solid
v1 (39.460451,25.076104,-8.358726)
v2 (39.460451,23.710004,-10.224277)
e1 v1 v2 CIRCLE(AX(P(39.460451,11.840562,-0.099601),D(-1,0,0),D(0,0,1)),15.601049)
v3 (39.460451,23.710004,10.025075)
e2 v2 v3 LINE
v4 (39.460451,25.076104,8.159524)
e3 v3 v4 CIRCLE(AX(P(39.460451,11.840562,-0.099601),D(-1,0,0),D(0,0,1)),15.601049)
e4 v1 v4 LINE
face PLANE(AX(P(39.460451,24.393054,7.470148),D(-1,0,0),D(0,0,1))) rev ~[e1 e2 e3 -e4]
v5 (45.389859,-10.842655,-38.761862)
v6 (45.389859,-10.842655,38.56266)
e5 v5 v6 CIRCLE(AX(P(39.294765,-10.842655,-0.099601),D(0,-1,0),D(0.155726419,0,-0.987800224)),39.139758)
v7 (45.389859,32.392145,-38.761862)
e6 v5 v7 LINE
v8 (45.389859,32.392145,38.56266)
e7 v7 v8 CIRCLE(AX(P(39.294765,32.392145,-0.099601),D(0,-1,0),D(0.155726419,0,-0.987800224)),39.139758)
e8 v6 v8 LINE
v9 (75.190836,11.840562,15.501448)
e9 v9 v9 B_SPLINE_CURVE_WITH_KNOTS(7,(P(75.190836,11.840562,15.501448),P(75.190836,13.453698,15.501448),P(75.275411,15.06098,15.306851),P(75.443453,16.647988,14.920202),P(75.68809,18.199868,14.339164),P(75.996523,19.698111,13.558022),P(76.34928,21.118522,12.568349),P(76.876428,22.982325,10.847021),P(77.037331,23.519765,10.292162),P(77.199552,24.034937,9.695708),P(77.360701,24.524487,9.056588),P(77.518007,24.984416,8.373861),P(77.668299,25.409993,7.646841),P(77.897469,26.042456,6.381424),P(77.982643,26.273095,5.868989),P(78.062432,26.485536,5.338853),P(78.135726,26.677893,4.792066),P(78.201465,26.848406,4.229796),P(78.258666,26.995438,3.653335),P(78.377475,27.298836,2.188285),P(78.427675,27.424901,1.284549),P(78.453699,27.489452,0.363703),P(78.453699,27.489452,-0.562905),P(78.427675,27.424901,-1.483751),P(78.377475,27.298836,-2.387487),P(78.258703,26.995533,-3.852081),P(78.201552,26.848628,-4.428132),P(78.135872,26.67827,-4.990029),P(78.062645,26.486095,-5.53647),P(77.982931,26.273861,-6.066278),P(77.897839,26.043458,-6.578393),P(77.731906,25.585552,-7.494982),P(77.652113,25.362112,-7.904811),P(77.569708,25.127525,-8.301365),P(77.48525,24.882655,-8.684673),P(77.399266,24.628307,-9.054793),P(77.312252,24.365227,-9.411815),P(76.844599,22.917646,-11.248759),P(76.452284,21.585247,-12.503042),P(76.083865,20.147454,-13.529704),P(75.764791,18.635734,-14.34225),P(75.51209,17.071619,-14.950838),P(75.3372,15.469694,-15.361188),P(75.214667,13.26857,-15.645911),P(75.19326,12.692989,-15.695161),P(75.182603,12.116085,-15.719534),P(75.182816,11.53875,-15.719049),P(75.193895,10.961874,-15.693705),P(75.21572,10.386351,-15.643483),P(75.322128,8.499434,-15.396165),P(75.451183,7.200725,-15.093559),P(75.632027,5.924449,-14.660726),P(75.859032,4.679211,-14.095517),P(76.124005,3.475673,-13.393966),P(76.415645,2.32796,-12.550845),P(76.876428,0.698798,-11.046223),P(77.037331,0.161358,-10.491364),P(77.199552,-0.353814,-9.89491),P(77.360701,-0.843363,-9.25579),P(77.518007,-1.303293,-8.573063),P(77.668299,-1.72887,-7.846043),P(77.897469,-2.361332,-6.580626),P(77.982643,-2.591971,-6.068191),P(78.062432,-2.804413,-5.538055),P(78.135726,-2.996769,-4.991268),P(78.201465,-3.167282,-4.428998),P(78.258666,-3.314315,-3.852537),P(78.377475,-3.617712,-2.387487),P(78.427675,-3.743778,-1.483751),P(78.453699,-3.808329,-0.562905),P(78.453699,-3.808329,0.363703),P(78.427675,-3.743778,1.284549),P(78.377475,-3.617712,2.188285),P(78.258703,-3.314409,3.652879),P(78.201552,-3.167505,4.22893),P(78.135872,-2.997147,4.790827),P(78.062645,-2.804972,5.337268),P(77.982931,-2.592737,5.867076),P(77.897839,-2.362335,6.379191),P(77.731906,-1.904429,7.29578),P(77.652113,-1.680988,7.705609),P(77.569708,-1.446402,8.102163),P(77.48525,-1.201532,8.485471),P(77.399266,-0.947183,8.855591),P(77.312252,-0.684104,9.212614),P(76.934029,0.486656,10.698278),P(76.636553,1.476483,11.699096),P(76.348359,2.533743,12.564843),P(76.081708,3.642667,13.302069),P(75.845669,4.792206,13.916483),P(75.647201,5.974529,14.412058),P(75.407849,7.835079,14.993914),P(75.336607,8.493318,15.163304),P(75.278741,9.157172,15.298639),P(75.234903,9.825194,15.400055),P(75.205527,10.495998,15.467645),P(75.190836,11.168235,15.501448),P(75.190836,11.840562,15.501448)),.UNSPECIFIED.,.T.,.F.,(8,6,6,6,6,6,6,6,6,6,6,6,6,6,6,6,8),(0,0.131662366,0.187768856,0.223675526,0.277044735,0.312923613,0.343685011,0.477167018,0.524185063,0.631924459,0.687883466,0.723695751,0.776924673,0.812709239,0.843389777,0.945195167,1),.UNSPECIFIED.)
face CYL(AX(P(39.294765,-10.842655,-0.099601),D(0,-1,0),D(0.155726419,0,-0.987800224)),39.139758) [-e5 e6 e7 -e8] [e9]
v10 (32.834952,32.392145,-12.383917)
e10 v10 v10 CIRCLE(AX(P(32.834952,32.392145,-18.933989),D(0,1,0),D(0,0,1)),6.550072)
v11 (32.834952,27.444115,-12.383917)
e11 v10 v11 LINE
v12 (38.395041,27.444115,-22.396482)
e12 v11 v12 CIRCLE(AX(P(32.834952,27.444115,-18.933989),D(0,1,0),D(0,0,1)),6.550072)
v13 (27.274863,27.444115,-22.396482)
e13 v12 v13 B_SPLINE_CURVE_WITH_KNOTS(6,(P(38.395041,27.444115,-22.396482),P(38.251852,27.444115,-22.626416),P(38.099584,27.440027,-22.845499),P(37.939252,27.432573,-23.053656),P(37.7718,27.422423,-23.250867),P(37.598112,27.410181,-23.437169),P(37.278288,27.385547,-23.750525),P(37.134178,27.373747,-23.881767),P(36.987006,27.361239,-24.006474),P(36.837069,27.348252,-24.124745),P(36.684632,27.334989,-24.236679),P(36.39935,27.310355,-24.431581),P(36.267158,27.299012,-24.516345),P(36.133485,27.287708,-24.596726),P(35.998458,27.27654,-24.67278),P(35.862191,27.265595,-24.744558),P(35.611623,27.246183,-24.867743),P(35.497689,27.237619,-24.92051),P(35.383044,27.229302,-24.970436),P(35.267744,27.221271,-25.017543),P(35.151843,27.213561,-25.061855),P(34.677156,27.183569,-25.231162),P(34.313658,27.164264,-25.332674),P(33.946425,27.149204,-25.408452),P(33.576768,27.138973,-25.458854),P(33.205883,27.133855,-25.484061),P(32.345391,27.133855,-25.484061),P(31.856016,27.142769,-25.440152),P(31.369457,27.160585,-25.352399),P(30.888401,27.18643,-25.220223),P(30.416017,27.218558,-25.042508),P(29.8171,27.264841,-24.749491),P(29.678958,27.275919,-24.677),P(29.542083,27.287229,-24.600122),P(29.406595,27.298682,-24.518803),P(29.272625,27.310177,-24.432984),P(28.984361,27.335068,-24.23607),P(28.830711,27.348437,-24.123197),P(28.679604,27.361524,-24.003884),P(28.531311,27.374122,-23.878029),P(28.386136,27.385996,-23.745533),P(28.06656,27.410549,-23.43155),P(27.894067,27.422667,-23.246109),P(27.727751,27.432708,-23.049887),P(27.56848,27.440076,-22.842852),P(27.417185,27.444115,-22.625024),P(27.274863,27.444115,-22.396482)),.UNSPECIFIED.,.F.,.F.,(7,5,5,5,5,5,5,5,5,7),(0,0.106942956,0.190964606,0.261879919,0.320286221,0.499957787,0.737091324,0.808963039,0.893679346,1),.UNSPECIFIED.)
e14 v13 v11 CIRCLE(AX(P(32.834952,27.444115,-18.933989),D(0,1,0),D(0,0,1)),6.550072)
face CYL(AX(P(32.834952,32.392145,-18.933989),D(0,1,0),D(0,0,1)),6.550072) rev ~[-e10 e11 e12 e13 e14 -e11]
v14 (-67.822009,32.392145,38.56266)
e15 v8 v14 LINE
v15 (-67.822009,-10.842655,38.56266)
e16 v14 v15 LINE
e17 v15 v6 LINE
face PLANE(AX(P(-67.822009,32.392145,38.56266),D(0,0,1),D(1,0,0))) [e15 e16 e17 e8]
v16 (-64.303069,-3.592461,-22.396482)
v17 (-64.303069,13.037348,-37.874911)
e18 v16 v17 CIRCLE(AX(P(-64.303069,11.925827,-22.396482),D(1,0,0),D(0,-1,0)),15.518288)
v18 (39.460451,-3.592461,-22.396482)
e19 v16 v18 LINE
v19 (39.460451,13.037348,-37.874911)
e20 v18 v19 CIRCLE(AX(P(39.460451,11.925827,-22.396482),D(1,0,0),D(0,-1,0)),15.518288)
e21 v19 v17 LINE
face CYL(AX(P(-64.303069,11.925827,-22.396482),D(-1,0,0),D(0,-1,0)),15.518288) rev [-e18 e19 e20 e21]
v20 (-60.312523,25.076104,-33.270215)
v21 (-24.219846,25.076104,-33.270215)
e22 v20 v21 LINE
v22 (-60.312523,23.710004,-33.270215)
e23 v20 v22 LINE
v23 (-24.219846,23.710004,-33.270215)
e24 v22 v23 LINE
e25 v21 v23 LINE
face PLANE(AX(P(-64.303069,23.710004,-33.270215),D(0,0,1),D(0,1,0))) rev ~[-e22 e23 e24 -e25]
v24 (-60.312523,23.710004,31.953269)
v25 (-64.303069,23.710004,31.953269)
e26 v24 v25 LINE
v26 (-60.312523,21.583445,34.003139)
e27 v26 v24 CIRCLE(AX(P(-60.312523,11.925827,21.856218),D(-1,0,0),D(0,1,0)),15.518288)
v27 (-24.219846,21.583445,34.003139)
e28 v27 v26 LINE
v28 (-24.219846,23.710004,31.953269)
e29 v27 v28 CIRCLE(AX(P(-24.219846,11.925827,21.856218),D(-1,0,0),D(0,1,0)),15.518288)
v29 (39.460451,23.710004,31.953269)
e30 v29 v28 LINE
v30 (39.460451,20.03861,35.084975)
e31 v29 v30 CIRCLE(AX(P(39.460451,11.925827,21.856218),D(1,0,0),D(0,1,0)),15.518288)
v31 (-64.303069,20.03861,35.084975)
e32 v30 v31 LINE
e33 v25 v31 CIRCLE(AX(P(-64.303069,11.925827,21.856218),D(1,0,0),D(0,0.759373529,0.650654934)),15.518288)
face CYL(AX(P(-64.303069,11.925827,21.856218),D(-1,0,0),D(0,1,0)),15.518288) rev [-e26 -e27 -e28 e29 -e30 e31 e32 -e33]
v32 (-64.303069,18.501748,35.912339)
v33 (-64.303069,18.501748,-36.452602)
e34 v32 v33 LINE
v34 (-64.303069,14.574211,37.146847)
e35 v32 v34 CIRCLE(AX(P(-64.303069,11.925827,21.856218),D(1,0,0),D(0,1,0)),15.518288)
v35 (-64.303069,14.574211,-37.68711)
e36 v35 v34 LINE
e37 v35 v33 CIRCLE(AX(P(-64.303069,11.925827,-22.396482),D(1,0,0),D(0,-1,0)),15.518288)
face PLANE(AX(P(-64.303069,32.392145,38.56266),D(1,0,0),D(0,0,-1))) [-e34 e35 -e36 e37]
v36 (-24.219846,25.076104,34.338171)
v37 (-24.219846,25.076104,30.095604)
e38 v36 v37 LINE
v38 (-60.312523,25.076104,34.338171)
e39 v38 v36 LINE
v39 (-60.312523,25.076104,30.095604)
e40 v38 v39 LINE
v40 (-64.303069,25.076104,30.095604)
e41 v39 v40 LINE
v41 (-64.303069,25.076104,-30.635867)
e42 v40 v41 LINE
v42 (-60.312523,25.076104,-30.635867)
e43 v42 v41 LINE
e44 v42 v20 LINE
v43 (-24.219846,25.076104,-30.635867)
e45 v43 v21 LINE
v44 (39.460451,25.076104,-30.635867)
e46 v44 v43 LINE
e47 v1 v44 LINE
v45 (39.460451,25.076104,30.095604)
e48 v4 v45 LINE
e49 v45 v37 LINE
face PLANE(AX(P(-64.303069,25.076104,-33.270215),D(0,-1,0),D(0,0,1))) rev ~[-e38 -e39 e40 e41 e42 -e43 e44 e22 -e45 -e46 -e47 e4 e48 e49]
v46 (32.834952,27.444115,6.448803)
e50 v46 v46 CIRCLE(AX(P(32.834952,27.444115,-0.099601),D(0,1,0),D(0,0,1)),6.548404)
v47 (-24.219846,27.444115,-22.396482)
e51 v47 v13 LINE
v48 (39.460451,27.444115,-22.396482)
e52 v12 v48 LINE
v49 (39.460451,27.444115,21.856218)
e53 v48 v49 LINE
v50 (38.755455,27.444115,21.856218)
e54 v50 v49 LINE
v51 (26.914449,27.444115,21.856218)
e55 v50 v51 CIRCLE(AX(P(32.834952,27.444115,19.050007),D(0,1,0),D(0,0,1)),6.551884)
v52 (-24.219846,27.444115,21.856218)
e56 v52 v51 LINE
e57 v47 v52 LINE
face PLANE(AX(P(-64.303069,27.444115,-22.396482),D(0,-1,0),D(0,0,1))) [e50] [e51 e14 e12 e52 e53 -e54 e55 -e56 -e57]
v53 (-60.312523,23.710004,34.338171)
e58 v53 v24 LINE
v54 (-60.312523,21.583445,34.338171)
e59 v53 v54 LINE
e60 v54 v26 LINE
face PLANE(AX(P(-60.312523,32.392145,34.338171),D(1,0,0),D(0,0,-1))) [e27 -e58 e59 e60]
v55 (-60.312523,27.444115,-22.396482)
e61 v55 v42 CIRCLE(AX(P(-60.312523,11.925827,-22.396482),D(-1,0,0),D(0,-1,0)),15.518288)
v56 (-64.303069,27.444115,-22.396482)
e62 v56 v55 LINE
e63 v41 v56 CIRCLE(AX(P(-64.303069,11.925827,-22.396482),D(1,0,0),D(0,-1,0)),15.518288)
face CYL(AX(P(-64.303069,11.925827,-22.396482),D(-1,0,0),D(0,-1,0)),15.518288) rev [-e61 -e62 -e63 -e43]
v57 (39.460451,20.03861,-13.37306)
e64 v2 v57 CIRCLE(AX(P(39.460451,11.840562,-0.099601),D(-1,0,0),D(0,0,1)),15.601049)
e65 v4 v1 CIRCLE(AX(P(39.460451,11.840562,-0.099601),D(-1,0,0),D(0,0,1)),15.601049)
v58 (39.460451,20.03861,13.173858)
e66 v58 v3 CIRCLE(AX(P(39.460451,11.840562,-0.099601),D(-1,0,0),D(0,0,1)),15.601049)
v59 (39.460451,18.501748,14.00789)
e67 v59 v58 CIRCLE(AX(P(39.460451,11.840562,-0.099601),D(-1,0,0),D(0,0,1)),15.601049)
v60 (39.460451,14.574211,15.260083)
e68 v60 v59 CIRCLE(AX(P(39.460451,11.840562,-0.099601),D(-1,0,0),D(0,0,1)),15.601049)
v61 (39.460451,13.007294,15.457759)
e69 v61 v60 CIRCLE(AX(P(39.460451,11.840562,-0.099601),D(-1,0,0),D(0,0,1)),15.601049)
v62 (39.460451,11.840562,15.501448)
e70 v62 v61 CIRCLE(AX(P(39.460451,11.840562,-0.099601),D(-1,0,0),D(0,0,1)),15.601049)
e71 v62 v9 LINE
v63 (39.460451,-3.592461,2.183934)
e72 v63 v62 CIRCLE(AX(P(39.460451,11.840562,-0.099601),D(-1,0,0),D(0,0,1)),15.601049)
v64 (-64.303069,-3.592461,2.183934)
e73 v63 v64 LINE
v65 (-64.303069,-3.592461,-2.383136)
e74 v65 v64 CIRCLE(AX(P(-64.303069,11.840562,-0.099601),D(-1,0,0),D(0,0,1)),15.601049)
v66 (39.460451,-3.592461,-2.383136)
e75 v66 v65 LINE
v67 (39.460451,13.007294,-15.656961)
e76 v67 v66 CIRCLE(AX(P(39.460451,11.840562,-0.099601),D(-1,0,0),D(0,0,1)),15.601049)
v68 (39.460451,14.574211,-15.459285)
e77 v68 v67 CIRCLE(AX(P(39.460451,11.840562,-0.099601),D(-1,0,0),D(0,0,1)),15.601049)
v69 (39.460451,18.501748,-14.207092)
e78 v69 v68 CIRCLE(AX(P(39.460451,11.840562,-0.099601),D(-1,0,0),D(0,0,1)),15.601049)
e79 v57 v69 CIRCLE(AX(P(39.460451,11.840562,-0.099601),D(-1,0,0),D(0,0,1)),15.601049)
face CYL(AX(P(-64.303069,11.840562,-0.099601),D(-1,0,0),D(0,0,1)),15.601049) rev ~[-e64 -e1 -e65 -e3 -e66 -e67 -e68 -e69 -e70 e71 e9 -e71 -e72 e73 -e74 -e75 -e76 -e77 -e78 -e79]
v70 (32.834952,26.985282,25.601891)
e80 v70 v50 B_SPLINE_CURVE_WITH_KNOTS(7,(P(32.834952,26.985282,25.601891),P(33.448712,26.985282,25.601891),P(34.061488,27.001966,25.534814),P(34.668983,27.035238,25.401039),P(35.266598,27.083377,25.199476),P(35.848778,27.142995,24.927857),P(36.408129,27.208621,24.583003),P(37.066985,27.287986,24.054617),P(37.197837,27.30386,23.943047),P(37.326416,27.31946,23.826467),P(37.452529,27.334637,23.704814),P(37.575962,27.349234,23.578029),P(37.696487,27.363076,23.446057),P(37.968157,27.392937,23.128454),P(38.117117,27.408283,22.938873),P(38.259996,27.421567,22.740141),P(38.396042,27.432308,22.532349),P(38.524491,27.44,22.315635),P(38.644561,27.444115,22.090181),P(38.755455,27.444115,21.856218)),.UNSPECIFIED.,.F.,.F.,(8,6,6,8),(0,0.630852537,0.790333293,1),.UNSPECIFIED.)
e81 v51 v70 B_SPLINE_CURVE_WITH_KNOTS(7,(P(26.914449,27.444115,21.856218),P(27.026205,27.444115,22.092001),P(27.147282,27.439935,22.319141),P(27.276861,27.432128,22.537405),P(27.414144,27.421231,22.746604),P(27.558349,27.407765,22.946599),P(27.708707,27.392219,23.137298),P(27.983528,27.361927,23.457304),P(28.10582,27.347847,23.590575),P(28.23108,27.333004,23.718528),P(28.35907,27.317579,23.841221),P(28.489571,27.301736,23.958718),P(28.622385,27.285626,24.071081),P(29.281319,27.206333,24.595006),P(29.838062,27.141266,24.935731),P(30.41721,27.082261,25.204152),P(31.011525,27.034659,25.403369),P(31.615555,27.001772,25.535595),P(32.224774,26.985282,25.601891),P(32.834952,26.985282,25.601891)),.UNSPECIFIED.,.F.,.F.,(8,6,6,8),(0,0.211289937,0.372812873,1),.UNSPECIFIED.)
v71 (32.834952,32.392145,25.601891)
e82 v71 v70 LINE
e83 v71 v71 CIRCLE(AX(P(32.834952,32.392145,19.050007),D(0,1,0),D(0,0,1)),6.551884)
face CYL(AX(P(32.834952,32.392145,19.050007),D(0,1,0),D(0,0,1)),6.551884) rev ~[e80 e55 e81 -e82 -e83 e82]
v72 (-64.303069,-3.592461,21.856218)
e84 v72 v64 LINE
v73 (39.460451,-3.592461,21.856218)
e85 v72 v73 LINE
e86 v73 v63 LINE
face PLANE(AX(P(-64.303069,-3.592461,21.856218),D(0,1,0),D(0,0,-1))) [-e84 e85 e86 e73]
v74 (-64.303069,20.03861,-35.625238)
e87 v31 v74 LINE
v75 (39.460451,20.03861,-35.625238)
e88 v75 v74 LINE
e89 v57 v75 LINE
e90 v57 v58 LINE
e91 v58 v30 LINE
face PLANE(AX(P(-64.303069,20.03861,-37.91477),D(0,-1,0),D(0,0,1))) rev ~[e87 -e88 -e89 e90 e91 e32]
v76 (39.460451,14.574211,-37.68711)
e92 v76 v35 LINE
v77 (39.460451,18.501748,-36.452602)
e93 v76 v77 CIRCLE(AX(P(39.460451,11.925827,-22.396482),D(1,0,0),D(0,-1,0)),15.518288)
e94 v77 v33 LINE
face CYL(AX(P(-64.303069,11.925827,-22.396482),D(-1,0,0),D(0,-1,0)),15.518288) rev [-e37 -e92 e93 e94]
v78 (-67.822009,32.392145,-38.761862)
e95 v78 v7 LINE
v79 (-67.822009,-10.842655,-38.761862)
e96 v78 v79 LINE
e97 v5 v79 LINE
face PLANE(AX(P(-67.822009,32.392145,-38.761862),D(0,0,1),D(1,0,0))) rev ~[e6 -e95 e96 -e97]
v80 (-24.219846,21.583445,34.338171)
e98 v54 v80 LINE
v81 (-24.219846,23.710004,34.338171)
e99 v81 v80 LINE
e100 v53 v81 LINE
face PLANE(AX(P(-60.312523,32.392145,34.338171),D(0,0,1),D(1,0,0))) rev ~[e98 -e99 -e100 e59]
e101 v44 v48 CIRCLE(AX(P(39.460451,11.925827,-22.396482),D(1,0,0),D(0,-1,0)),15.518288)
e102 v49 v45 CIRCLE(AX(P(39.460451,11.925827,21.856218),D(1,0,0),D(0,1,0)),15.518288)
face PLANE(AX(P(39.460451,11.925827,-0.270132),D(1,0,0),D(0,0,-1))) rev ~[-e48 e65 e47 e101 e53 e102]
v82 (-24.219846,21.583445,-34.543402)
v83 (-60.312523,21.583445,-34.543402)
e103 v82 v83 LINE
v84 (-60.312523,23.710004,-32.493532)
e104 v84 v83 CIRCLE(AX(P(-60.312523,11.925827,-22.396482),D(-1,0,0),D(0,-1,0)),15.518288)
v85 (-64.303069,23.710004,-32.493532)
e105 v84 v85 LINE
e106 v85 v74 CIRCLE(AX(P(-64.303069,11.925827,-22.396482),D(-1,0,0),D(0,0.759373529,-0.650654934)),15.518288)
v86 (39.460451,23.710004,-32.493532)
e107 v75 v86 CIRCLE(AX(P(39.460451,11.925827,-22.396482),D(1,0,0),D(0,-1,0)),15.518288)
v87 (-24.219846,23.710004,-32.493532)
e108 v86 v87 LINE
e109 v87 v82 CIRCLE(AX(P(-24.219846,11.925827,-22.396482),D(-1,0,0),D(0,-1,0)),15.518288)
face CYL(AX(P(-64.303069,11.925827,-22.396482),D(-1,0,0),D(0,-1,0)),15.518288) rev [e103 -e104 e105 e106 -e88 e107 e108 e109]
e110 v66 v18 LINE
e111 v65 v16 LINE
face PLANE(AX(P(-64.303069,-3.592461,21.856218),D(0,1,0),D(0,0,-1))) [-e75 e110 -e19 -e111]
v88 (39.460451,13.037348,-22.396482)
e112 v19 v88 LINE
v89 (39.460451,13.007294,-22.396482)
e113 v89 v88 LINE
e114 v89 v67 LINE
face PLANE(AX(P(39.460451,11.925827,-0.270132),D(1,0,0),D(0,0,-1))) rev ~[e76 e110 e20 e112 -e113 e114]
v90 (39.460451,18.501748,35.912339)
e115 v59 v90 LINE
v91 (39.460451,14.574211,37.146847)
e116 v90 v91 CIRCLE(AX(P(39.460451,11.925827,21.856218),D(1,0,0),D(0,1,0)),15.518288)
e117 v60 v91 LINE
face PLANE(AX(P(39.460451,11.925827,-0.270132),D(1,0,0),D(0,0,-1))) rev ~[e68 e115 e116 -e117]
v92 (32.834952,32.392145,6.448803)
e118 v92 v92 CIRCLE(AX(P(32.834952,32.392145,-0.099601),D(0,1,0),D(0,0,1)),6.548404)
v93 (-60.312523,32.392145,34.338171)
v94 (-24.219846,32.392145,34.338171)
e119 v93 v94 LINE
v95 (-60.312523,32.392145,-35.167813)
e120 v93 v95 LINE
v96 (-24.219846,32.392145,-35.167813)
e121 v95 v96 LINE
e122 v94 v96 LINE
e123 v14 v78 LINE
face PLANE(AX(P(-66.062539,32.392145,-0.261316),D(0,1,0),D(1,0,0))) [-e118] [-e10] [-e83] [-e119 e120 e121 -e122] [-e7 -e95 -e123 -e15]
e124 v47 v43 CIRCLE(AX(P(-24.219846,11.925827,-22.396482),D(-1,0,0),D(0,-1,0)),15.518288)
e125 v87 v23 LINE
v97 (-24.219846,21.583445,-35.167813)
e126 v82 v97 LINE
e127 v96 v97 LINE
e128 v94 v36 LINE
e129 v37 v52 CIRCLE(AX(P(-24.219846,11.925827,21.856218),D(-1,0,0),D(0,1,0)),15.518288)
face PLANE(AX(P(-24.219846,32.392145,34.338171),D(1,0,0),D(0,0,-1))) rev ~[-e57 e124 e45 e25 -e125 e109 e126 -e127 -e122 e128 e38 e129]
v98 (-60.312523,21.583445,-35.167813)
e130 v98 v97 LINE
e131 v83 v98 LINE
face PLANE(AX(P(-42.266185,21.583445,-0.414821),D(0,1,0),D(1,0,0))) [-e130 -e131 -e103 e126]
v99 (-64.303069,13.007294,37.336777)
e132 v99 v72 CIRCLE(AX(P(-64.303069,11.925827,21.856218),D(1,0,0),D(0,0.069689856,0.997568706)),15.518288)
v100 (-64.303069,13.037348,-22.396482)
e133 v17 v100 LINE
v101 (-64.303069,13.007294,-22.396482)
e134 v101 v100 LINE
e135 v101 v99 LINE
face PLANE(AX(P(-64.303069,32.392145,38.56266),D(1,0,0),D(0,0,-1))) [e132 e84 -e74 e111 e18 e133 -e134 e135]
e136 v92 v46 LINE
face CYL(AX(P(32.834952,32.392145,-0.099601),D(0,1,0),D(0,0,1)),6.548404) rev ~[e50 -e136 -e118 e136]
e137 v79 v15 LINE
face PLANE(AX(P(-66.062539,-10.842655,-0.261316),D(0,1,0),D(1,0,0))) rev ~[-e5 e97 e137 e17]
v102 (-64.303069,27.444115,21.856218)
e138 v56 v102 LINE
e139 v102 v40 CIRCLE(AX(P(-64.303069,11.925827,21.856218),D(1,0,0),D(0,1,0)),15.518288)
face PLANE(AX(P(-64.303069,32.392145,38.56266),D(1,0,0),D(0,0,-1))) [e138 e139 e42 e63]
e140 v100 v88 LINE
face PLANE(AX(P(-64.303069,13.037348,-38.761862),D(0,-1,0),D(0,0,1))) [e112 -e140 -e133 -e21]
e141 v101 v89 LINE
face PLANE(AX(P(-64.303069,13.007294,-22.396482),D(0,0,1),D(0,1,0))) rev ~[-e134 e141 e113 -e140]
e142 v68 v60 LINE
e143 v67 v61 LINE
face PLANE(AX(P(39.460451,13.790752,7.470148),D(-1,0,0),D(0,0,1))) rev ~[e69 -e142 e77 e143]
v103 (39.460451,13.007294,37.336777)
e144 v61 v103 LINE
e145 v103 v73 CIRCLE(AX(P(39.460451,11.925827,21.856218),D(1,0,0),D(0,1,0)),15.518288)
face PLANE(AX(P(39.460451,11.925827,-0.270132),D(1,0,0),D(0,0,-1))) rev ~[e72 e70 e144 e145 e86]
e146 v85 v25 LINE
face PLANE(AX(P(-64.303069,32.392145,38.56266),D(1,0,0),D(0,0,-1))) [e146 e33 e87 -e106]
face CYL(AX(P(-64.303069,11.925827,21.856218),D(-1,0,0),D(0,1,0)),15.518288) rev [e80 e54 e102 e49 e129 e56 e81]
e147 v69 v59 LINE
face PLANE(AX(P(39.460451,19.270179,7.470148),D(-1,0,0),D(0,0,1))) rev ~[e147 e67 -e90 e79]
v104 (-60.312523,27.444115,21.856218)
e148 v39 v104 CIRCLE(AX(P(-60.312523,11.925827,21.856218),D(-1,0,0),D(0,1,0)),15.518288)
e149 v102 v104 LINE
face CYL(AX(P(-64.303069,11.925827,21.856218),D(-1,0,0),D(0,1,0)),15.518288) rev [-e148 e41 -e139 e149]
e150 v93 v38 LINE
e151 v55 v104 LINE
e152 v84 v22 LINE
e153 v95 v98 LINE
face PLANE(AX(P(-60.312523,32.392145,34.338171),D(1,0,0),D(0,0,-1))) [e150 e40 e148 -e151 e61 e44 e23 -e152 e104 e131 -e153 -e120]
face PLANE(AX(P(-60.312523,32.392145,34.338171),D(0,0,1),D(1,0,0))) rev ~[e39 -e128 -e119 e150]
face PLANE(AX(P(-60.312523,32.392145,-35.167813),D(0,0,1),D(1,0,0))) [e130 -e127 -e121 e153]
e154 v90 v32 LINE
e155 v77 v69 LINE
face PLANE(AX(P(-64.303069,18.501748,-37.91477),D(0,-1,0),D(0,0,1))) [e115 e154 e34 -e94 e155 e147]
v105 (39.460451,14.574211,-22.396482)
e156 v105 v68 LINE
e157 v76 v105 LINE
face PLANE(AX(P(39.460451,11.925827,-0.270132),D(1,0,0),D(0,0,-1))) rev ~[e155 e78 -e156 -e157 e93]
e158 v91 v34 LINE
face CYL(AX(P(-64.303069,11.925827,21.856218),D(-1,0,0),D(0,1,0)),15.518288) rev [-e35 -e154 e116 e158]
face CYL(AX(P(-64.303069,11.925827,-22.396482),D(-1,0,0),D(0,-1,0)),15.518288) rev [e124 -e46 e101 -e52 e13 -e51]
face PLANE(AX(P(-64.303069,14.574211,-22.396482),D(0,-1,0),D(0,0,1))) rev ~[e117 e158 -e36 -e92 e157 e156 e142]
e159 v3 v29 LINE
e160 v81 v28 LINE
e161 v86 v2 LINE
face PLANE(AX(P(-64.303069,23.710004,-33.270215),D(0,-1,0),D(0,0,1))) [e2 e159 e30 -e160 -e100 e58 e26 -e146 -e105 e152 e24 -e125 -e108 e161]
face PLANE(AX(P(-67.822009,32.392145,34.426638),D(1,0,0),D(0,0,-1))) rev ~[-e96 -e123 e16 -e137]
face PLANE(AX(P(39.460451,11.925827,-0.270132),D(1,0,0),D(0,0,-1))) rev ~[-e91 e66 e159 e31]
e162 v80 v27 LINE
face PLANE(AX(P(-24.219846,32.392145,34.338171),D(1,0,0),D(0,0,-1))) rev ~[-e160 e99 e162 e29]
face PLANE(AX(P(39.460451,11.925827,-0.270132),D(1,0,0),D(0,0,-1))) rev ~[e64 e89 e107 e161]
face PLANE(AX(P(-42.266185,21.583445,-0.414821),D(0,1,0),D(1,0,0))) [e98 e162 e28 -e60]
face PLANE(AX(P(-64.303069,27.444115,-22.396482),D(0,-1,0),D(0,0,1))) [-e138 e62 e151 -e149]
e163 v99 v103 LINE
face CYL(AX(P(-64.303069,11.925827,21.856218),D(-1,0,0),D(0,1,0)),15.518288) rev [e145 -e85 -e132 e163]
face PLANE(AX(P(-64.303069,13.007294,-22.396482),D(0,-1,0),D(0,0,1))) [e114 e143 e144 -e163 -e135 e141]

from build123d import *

# Parameters (mm, degrees)
SKETCH_4_W          = 50.742886584
SKETCH_4_H          = 35.769575788
EXTRUDE_3_DEPTH     = 20
CUT_EXTRUDE_1_DEPTH = 48
SKETCH_6_R          = 7.216894088
CUT_EXTRUDE_2_DEPTH = 68
SKETCH_7_W          = 16.696122742
SKETCH_7_H          = 32.152795324
CUT_EXTRUDE_4_DEPTH = 5
SKETCH_8_R          = 3.029228208
SKETCH_8_R_2        = 3.03
SKETCH_8_R_3        = 3.03083806
CUT_EXTRUDE_5_DEPTH = 3
SKETCH_9_W          = 5.030083898
SKETCH_9_H          = 0.631944611
SKETCH_9_W_2        = 7.178609771
SKETCH_9_H_2        = 0.710937687
SKETCH_9_W_3        = 7.570466712
EXTRUDE_5_DEPTH     = 48
SKETCH_10_W         = 27.632027184
SKETCH_10_H         = 0.724840375
SKETCH_10_H_2       = 0.710937687
SKETCH_10_H_3       = 0.631944611
EXTRUDE_6_DEPTH     = 48
SKETCH_13_W         = 1.627827619
SKETCH_13_H         = 35.769575788
EXTRUDE_9_DEPTH     = 20
SKETCH_15_W         = 1.627827619
SKETCH_15_H         = 32.092623512
EXTRUDE_11_DEPTH    = 20
SCALE_1_SCALE       = 2.16174


with BuildPart() as part:
    # 草图4 → 凸台-拉伸3 (new body)
    with BuildSketch(Plane(origin=(0, 0, 0), x_dir=(1, 0, 0), z_dir=(0, 1, 0))):
        Rectangle(SKETCH_4_W, SKETCH_4_H)
        with BuildLine():
            ThreePointArc((25.371443292, 17.884787894), (40.657584716, 0), (25.371443292, -17.884787894))
            Line((25.371443292, -17.884787894), (25.371443292, 17.884787894))
        make_face()
    extrude(amount=EXTRUDE_3_DEPTH)

    # 草图5 → 切除-拉伸1 (cut)
    with BuildSketch(Plane.ZY.offset(25.371443292)):
        with BuildLine():
            Line((-10.314321182, 17.711089067), (10.156549539, 17.711089067))
            ThreePointArc((10.156549539, 17.711089067), (17.33515931, 10.532479296), (10.156549539, 3.353869525))
            Line((10.156549539, 3.353869525), (-10.314321182, 3.353869525))
            ThreePointArc((-10.314321182, 3.353869525), (-17.492930953, 10.532479296), (-10.314321182, 17.711089067))
        make_face()
    extrude(amount=-CUT_EXTRUDE_1_DEPTH, mode=Mode.SUBTRACT)

    # 草图6 → 切除-拉伸2 (cut)
    with BuildSketch(Plane.ZY.offset(25.371443292)):
        with Locations((0, 10.493036385)):
            Circle(SKETCH_6_R)
    extrude(amount=-CUT_EXTRUDE_2_DEPTH, mode=Mode.SUBTRACT)

    # 草图7 → 切除-拉伸4 (cut)
    with BuildSketch(Plane(origin=(0, 20, 0), x_dir=(1, 0, 0), z_dir=(0, 1, 0))):
        with Locations((-15.177393996, 0.145817666)):
            Rectangle(SKETCH_7_W, SKETCH_7_H)
    extrude(amount=-CUT_EXTRUDE_4_DEPTH, mode=Mode.SUBTRACT)

    # 草图8 → 切除-拉伸5 (cut)
    with BuildSketch(Plane(origin=(0, 20, 0), x_dir=(1, 0, 0), z_dir=(0, 1, 0))):
        with Locations(Location((19.563664897, 0, 0), (0, 0, 270))):
            Circle(SKETCH_8_R)
        with Locations(Location((19.563664897, 8.712605536, 0), (0, 0, 270))):
            Circle(SKETCH_8_R_2)
        with Locations(Location((19.563664897, -8.858423201, 0), (0, 0, 270))):
            Circle(SKETCH_8_R_3)
    extrude(amount=-CUT_EXTRUDE_5_DEPTH, mode=Mode.SUBTRACT)

    # 草图9 → 凸台-拉伸5 (add)
    with BuildSketch(Plane.ZY.offset(25.371443292)):
        with Locations((-12.829363131, 16.299697839)):
            Rectangle(SKETCH_9_W, SKETCH_9_H)
        with Locations((-13.903626068, 13.929905549)):
            Rectangle(SKETCH_9_W_2, SKETCH_9_H_2)
        with Locations((-14.099554538, 11.402127105)):
            Rectangle(SKETCH_9_W_3, SKETCH_9_H_2)
    extrude(amount=-EXTRUDE_5_DEPTH)

    # 草图10 → 凸台-拉伸6 (add)
    with BuildSketch(Plane.ZY.offset(25.371443292)):
        with Locations((3.50169241, 11.395175762)):
            Rectangle(SKETCH_10_W, SKETCH_10_H)
        with Locations((3.50169241, 13.929905549)):
            Rectangle(SKETCH_10_W, SKETCH_10_H_2)
        with Locations((3.50169241, 16.299697839)):
            Rectangle(SKETCH_10_W, SKETCH_10_H_3)
    extrude(amount=-EXTRUDE_6_DEPTH)

    # 草图13 → 凸台-拉伸9 (add)
    with BuildSketch(Plane(origin=(0, 20, 0), x_dir=(1, 0, 0), z_dir=(0, 1, 0))):
        with Locations((-26.185357102, 0)):
            Rectangle(SKETCH_13_W, SKETCH_13_H)
    extrude(amount=-EXTRUDE_9_DEPTH)

    # 草图15 → 凸台-拉伸11 (add, through all)
    with BuildSketch(Plane(origin=(0, 20, 0), x_dir=(1, 0, 0), z_dir=(0, 1, 0))):
        with Locations((-26.185357102, 0.07480798)):
            Rectangle(SKETCH_15_W, SKETCH_15_H)
    extrude(amount=-EXTRUDE_11_DEPTH)


with BuildPart() as part_1:
    # 缩放比例1: scaled about (8.140035626, 9.333116532, 0.085734306)
    add(part.part.scale(SCALE_1_SCALE).moved(Location((-9.456604988, -10.8426548, -0.099600973))))


solid = part_1.part
